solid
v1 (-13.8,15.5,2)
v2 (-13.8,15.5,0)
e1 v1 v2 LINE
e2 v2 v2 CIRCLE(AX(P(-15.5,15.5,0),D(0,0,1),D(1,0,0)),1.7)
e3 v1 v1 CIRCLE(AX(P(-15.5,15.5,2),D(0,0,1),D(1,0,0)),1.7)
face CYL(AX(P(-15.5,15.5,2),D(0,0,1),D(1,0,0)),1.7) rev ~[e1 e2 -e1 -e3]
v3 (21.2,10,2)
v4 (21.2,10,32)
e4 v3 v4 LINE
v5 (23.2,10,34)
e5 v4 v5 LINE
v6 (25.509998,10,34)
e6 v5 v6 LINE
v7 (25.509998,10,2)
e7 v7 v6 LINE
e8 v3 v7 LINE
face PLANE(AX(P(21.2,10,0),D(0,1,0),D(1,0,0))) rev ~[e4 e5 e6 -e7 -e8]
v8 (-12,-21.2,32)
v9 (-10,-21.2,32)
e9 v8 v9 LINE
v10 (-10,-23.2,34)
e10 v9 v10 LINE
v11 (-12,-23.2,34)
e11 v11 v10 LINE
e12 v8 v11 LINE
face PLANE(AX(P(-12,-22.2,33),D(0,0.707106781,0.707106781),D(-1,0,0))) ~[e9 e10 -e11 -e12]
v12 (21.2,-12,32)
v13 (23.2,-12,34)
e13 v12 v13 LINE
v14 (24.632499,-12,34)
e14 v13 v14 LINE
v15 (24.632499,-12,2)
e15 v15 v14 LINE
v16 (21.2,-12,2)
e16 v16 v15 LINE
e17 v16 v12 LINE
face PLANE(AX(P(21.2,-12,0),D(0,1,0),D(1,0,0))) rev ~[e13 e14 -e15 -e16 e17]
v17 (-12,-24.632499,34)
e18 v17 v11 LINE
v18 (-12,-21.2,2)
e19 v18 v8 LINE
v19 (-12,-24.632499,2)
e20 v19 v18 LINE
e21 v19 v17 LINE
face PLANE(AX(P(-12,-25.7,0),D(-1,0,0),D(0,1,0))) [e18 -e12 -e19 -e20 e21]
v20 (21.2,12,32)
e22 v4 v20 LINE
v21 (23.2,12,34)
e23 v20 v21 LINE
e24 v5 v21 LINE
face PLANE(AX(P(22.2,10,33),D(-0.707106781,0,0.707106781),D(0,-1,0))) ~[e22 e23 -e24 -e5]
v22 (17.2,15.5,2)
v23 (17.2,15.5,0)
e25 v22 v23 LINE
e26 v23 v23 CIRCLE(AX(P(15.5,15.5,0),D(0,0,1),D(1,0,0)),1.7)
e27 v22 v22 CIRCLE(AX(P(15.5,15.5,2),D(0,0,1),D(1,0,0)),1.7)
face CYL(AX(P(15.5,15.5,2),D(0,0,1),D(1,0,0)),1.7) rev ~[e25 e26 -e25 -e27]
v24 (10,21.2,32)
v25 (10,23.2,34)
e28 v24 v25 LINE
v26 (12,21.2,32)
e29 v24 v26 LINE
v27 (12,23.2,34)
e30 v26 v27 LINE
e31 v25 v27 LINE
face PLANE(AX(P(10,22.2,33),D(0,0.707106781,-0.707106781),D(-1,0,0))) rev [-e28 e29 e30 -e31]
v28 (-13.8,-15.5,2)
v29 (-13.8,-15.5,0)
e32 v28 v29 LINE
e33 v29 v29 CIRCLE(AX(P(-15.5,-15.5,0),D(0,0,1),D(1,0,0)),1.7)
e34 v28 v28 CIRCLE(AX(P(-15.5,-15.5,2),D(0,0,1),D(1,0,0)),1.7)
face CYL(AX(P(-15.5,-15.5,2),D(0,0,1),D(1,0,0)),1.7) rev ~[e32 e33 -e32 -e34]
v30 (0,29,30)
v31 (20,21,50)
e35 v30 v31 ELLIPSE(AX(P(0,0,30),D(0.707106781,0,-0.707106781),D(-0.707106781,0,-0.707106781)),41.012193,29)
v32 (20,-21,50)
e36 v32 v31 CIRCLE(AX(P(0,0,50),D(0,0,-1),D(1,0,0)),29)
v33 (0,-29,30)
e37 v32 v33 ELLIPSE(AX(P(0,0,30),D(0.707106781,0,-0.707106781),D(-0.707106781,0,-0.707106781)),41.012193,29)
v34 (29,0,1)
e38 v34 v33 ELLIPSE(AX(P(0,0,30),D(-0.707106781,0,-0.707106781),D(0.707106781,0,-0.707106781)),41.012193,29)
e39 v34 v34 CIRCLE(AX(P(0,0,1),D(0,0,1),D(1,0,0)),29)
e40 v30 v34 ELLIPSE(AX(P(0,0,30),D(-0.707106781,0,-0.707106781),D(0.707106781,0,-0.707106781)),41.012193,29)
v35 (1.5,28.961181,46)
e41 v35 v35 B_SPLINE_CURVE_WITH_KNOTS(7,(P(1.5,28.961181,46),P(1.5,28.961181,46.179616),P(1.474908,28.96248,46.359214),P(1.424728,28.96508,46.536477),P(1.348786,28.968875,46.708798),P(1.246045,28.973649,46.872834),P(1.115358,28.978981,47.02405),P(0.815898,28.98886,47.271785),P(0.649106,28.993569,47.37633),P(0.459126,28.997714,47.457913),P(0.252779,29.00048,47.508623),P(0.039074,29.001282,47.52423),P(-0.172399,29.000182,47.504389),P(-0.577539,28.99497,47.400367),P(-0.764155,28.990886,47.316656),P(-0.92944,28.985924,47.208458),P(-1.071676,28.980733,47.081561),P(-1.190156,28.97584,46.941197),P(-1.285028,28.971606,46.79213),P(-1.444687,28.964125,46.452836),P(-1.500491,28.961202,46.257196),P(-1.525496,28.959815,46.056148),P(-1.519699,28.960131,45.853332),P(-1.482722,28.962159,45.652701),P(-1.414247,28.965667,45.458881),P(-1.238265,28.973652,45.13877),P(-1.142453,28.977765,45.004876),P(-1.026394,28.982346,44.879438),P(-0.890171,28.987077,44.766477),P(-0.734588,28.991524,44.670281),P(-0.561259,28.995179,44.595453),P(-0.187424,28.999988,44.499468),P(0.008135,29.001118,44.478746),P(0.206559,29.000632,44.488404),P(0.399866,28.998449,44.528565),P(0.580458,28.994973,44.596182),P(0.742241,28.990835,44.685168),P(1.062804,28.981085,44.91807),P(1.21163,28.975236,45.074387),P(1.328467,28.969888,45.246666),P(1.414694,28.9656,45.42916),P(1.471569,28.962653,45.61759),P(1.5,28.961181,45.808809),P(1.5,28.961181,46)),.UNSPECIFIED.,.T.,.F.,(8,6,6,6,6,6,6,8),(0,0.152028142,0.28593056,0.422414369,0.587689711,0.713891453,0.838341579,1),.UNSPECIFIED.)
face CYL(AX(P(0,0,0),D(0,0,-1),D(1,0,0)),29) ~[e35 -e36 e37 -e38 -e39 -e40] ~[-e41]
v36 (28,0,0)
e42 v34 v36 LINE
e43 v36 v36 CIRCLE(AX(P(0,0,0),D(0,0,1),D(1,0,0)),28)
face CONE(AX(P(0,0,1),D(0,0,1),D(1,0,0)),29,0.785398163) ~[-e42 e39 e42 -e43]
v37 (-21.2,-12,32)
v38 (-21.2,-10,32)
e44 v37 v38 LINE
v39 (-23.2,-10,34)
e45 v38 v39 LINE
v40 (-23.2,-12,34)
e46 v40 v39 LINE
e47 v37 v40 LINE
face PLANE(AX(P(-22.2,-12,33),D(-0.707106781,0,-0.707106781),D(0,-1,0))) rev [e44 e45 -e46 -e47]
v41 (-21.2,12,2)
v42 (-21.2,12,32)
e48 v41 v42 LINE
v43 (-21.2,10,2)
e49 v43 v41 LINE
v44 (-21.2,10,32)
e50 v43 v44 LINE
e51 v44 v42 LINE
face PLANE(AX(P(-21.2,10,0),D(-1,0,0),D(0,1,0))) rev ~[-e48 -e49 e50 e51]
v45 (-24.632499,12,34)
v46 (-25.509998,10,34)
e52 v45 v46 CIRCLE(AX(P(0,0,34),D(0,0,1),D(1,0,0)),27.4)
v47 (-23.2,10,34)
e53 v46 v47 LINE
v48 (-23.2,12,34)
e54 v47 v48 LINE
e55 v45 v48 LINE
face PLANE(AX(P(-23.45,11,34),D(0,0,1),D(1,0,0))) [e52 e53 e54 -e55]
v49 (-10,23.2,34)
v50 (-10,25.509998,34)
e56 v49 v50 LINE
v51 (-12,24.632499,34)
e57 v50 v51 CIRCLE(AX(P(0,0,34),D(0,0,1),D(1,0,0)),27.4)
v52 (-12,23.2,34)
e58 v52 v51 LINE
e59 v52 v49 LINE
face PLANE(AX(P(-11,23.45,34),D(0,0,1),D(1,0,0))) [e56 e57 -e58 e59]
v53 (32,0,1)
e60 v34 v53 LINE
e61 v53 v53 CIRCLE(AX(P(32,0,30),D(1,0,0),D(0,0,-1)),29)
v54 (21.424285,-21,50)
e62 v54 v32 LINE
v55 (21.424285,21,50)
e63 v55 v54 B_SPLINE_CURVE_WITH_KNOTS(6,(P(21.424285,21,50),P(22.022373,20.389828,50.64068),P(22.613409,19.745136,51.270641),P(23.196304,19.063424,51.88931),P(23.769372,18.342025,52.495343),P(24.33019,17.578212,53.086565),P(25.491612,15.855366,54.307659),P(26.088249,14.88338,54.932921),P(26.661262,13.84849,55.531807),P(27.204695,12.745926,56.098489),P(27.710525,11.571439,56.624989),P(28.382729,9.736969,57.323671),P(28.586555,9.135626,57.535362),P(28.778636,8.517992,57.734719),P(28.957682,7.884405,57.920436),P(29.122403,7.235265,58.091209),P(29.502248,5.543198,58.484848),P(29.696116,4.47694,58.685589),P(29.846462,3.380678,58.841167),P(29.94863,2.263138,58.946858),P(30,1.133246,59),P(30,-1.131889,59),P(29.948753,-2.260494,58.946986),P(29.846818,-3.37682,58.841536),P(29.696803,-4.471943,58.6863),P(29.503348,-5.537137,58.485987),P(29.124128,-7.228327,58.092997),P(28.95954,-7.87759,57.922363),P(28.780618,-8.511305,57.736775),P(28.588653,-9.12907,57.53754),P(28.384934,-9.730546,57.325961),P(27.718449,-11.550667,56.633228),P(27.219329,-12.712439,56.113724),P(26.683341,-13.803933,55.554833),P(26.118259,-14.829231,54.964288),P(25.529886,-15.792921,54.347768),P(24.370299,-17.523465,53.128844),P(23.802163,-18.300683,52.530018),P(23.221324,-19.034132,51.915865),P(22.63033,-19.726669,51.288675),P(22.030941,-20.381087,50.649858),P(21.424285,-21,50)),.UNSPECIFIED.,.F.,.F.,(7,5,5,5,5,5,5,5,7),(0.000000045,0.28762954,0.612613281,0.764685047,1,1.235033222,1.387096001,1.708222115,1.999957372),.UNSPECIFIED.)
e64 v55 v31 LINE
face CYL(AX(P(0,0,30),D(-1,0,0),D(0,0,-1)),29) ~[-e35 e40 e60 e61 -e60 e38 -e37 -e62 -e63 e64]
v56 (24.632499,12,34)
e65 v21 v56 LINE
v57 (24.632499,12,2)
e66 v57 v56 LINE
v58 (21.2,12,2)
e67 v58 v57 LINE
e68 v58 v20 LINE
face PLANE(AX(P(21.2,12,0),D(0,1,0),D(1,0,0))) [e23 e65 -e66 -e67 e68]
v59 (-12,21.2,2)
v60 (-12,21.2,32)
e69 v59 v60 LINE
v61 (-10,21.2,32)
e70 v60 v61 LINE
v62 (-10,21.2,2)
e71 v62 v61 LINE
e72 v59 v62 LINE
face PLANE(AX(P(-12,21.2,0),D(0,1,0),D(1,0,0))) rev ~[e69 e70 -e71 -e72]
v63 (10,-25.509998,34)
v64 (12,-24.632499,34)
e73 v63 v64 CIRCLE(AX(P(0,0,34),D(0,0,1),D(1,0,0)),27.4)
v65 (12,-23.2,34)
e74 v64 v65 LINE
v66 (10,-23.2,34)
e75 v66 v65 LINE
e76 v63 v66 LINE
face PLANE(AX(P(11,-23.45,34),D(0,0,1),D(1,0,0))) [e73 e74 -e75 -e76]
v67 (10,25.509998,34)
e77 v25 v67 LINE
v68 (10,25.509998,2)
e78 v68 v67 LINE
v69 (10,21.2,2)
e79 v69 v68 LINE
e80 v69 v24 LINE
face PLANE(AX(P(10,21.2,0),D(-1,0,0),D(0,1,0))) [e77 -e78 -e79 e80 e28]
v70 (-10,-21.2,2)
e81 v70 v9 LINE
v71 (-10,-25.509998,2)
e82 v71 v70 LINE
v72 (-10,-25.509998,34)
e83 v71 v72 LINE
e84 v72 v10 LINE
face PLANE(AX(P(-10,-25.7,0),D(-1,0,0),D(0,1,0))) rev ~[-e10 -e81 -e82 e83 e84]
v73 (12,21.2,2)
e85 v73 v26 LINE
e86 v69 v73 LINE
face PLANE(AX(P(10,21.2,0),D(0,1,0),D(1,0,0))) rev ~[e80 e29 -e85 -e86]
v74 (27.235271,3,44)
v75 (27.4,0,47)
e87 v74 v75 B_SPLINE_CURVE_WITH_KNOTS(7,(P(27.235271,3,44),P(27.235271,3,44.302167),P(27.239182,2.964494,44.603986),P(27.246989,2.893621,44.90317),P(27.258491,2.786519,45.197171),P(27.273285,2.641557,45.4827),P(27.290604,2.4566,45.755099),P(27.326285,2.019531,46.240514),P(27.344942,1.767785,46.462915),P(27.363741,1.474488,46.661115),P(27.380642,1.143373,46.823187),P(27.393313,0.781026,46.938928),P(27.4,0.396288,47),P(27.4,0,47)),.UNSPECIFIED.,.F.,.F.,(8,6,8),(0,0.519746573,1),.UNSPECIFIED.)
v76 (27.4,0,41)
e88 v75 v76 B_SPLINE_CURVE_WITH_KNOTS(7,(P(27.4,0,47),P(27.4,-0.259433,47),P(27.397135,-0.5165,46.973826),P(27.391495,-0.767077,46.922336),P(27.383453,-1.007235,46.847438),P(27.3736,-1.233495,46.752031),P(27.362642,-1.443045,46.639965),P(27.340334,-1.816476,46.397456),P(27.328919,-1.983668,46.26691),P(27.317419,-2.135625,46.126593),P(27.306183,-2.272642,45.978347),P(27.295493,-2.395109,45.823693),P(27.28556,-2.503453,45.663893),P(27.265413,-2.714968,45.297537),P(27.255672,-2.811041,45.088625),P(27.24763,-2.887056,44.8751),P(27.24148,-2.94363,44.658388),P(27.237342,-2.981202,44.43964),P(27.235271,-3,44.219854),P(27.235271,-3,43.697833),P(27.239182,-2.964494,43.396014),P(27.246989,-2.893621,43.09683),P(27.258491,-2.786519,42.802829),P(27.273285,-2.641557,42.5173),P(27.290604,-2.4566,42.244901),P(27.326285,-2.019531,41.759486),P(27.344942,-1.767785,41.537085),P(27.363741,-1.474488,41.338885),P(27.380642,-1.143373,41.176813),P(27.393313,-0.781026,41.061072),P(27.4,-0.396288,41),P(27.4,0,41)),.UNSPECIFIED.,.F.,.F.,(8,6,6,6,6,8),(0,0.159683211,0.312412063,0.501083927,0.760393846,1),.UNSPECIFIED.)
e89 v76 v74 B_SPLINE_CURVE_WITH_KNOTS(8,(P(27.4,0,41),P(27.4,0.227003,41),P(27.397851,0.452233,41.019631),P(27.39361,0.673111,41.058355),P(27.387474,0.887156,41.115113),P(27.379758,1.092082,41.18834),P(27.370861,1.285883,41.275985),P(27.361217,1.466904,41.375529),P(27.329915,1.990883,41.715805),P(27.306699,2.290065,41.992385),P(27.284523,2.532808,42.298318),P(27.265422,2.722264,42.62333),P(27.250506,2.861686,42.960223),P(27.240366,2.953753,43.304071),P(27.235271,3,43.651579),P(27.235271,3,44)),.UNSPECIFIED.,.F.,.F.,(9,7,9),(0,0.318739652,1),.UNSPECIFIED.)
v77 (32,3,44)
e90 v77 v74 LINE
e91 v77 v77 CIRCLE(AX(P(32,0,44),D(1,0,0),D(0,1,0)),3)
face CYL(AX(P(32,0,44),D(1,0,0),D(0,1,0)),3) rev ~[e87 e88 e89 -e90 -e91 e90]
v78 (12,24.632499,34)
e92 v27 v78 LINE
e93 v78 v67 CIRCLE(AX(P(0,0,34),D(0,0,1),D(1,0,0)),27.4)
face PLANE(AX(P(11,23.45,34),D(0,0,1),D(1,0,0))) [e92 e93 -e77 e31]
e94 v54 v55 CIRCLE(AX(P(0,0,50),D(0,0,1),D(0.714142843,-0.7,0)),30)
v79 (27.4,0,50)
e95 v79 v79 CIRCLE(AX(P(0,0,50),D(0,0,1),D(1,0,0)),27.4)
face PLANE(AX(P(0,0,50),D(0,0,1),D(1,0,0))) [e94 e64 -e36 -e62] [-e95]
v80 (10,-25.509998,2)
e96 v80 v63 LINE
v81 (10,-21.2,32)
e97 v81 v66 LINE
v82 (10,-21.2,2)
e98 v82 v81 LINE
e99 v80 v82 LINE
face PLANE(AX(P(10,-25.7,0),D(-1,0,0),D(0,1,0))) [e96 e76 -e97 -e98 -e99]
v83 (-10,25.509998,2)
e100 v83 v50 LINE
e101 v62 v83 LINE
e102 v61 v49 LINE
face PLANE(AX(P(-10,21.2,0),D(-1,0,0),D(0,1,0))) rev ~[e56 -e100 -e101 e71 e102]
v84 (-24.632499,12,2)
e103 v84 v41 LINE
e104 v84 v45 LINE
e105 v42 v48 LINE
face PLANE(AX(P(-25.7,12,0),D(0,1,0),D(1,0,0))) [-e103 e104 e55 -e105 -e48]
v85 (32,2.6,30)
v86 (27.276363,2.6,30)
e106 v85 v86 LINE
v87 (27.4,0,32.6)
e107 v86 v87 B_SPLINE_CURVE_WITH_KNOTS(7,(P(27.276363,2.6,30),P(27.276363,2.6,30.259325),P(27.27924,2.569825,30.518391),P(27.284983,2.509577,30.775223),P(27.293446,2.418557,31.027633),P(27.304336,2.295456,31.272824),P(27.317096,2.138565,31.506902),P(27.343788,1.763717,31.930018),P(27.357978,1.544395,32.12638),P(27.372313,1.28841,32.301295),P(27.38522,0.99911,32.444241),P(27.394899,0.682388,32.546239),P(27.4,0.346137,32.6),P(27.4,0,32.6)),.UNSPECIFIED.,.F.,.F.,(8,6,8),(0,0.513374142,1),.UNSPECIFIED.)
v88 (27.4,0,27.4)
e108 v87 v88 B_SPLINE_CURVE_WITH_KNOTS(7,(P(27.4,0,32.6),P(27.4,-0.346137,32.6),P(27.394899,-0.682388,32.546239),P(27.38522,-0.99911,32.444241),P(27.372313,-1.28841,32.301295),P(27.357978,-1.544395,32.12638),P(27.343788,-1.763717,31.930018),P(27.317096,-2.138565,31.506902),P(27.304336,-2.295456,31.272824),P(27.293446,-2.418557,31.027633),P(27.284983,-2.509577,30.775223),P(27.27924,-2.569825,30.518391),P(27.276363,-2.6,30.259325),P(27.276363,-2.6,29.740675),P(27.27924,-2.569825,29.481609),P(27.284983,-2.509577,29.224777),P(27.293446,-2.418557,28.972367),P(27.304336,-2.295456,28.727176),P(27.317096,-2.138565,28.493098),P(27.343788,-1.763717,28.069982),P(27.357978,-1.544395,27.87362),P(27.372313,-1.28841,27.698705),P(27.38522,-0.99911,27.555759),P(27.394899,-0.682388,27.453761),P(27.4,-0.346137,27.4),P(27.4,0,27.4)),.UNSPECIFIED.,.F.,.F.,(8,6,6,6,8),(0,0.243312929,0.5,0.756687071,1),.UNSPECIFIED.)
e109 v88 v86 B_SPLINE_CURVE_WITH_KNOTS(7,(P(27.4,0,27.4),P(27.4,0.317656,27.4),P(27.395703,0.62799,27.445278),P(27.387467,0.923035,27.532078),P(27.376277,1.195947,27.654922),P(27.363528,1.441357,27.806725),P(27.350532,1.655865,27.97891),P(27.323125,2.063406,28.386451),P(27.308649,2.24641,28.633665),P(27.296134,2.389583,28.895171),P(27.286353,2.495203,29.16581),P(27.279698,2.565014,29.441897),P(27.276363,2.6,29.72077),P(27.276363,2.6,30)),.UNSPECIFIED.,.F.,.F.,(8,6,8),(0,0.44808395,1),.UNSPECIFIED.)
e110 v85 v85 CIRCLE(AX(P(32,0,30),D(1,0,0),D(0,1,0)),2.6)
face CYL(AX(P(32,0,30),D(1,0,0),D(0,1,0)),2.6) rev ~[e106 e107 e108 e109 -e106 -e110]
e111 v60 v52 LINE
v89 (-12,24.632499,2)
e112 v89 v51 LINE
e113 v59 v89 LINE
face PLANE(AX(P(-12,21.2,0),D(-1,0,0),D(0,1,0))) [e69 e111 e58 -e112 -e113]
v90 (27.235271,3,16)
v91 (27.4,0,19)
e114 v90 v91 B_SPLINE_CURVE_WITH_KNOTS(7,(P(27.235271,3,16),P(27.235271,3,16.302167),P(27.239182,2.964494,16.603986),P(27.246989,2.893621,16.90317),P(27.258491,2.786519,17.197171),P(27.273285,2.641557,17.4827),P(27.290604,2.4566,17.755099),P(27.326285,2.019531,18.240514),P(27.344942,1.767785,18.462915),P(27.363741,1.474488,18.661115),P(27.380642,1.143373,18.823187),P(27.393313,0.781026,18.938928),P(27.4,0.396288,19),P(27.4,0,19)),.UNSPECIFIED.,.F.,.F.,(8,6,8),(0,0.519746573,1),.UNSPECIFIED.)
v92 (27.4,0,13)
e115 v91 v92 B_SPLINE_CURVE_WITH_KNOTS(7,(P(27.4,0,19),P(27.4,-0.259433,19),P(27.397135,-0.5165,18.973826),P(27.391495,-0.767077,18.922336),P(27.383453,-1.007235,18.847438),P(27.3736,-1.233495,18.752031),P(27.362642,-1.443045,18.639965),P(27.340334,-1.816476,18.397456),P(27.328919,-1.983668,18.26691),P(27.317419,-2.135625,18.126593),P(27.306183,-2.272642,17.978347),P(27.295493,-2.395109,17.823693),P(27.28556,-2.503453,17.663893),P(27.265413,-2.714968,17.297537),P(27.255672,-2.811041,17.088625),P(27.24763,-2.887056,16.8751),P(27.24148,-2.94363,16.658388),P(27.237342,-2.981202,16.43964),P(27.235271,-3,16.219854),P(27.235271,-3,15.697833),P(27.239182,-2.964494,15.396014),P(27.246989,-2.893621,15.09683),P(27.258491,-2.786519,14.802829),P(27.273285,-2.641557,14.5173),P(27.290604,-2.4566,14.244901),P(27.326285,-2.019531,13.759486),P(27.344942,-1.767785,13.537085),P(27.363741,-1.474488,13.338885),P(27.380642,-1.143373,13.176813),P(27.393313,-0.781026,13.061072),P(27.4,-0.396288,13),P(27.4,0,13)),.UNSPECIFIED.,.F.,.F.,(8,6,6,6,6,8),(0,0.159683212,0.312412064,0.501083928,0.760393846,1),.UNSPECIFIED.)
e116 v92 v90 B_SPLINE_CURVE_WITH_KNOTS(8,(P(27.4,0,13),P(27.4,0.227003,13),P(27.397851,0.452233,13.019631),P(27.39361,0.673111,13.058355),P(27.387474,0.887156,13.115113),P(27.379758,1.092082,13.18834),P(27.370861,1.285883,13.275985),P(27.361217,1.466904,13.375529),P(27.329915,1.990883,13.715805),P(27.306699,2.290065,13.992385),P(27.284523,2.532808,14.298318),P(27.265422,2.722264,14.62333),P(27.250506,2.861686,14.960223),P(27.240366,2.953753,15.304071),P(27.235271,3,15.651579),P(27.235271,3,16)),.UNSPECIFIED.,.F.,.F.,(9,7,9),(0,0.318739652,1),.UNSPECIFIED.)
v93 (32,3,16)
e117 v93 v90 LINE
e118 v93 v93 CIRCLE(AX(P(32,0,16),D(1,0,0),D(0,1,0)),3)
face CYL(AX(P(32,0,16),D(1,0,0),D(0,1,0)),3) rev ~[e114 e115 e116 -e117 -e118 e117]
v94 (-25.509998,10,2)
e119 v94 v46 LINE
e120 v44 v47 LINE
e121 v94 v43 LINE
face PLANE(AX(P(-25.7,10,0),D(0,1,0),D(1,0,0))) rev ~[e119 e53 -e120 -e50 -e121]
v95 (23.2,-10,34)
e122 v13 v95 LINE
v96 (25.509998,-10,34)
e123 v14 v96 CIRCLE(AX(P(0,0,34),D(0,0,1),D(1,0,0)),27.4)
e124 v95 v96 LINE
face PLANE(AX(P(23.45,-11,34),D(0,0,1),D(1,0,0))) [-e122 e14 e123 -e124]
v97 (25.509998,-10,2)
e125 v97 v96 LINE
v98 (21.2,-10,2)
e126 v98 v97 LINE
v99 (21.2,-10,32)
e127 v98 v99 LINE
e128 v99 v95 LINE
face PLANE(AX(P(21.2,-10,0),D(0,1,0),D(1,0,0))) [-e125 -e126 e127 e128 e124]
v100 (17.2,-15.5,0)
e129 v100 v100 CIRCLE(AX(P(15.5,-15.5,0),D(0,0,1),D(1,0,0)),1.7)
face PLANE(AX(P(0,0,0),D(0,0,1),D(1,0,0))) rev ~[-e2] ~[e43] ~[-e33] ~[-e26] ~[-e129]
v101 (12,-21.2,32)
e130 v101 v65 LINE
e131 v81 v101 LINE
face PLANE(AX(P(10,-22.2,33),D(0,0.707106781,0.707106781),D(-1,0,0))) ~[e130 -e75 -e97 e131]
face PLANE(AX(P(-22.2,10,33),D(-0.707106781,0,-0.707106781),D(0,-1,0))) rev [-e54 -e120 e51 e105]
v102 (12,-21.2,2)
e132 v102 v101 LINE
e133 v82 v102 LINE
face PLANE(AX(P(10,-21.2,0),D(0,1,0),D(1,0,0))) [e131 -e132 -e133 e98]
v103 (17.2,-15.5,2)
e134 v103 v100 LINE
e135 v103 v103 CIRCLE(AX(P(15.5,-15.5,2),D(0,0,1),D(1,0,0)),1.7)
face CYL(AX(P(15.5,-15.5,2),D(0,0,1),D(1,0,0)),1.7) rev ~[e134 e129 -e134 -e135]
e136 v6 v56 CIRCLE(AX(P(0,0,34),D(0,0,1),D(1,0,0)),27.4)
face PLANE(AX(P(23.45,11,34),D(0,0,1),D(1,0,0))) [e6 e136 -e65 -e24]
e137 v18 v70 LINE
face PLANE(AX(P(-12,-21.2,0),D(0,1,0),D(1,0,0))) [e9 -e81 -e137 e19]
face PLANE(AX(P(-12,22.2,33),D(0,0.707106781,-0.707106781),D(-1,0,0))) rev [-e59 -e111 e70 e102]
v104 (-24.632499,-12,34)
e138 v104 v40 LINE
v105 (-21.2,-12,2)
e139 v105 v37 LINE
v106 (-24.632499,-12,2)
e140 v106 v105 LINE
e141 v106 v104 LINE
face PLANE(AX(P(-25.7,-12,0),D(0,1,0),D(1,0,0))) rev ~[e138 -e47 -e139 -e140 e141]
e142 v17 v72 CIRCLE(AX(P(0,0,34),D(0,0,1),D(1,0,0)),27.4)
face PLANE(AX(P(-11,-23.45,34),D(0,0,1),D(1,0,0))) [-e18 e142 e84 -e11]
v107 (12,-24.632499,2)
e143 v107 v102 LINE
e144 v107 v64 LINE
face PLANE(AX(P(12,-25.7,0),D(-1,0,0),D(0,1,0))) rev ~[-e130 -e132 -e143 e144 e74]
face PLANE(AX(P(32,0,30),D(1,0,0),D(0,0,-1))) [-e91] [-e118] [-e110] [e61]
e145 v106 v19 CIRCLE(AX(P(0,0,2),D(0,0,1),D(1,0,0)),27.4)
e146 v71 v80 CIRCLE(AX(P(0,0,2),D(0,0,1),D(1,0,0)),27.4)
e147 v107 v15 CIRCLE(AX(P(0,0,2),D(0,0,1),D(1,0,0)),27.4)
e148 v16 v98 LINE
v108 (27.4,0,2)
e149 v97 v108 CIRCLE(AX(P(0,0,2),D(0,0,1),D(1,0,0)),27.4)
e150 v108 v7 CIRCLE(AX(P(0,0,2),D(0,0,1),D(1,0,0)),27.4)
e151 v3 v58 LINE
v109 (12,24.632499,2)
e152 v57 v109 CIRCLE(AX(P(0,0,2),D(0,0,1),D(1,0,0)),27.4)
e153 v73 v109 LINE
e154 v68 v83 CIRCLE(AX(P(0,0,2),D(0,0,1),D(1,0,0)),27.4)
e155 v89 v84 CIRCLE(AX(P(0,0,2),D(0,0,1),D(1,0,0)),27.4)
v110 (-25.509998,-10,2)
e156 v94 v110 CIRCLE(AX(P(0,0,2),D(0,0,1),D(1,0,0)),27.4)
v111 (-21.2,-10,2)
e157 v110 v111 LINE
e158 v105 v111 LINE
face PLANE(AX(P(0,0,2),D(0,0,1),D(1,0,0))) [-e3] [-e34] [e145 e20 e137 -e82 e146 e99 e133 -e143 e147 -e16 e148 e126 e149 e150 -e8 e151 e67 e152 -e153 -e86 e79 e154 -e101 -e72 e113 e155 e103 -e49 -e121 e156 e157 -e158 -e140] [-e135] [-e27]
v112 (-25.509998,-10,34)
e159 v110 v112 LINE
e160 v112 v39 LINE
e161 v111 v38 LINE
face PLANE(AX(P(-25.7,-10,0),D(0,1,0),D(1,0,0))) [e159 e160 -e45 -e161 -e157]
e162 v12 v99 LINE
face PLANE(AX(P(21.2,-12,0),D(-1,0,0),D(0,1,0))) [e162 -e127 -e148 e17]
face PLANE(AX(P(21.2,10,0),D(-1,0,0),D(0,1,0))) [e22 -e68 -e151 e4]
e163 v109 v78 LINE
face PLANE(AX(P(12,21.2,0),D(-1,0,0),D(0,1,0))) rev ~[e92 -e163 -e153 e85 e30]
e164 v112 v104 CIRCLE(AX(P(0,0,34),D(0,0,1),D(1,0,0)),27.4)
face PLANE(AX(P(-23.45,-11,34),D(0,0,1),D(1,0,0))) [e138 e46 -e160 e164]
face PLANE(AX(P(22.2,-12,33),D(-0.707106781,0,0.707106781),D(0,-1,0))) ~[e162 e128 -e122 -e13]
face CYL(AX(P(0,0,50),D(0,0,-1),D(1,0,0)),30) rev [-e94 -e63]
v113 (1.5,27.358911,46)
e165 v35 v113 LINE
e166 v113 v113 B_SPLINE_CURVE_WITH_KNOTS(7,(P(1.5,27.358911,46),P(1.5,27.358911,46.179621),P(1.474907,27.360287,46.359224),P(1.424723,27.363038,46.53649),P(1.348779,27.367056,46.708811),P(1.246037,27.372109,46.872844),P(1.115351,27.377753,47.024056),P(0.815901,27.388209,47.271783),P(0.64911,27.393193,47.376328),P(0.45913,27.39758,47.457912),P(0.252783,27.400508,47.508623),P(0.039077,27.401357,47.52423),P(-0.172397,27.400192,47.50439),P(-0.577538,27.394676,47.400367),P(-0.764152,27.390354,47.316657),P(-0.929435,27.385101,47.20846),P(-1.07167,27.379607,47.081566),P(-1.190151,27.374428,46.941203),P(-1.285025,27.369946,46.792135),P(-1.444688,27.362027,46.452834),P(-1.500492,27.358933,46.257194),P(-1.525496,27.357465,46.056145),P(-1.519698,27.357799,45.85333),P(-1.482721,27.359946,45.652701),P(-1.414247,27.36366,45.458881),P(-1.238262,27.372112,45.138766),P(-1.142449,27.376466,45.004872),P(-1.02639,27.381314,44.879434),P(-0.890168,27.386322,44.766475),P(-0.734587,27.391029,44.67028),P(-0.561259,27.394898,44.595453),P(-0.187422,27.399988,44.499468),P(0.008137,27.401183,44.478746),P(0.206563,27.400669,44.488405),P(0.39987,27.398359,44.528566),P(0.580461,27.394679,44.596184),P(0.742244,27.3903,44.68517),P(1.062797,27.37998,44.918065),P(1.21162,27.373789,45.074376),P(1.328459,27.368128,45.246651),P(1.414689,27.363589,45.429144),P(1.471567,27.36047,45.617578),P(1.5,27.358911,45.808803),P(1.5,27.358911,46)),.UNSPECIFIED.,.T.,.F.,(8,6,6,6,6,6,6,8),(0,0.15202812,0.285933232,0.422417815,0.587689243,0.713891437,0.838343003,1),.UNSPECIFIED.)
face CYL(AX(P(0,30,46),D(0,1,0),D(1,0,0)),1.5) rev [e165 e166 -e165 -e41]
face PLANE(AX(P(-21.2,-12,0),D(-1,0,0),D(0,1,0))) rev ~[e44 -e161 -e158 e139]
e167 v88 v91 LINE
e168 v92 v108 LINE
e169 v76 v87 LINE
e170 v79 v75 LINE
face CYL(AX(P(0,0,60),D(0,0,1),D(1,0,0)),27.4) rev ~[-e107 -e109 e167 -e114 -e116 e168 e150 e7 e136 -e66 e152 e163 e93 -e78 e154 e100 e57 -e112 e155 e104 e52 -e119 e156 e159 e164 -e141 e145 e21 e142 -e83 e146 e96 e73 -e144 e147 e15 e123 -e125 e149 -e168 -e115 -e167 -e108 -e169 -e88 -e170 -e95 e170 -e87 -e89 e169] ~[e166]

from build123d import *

# Parameters (mm, degrees)
CYLINDER003_R           = 1.5
CYLINDER003_DEPTH       = 6
CYLINDER003_ROLL_ANGLE  = 90
CYLINDER002_R           = 30
CYLINDER002_DEPTH       = 20
CYLINDER001_R           = 29
CYLINDER001_DEPTH       = 32
CYLINDER001_PITCH_ANGLE = 90
CYLINDER_R              = 29
CYLINDER_DEPTH          = 60
SKETCH_R                = 27.4
POCKET_DEPTH            = 58
SKETCH002_R             = 2.6
SKETCH002_R_2           = 3
POCKET002_DEPTH         = 6
SKETCH001_R             = 1.7
POCKET003_DEPTH         = 5
SKETCH003_W             = 2
SKETCH003_H             = 4.5
SKETCH003_W_2           = 4.5
SKETCH003_H_2           = 2
PAD_DEPTH               = 34
CHAMFER_SIZE            = 2
CHAMFER001_SIZE         = 1


with BuildPart() as cylinder003:
    # Cylinder003 → Cylinder003 (new body)
    with BuildSketch(Plane.XY):
        Circle(CYLINDER003_R)
    extrude(amount=CYLINDER003_DEPTH)


with BuildPart() as cylinder003_1:
    # Cylinder003 roll: moved
    add(cylinder003.part.rotate(Axis((0, 0, 0), (1, 0, 0)), CYLINDER003_ROLL_ANGLE))


with BuildPart() as cylinder003_2:
    # Cylinder003 placement: moved
    add(cylinder003_1.part.moved(Location((0, 30, 46))))


with BuildPart() as cylinder002:
    # Cylinder002 → Cylinder002 (new body)
    with BuildSketch(Plane.XY.offset(50)):
        Circle(CYLINDER002_R)
    extrude(amount=CYLINDER002_DEPTH)


with BuildPart() as cylinder001:
    # Cylinder001 → Cylinder001 (new body)
    with BuildSketch(Plane.XY):
        Circle(CYLINDER001_R)
    extrude(amount=CYLINDER001_DEPTH)


with BuildPart() as cylinder001_1:
    # Cylinder001 pitch: moved
    add(cylinder001.part.rotate(Axis((0, 0, 0), (0, 1, 0)), CYLINDER001_PITCH_ANGLE))


with BuildPart() as cylinder001_2:
    # Cylinder001 placement: moved
    add(cylinder001_1.part.moved(Location((0, 0, 30))))


with BuildPart() as cut:
    # Cylinder → Cylinder (new body)
    with BuildSketch(Plane.XY):
        Circle(CYLINDER_R)
    extrude(amount=CYLINDER_DEPTH)

    # Fusion: union Cylinder001
    add(cylinder001_2.part)

    # Sketch → Pocket (cut)
    with BuildSketch(Plane.XY.offset(60)):
        Circle(SKETCH_R)
    extrude(amount=-POCKET_DEPTH, mode=Mode.SUBTRACT)

    # Sketch002 → Pocket002 (cut)
    with BuildSketch(Plane.YZ.offset(32)):
        with Locations((0, 30)):
            Circle(SKETCH002_R)
        with Locations((0, 44)):
            Circle(SKETCH002_R_2)
        with Locations((0, 16)):
            Circle(SKETCH002_R_2)
    extrude(amount=-POCKET002_DEPTH, mode=Mode.SUBTRACT)

    # Sketch001 → Pocket003 (cut)
    with BuildSketch(Plane.XY.offset(2)):
        with Locations((-15.5, 15.5)):
            Circle(SKETCH001_R)
        with Locations((15.5, 15.5)):
            Circle(SKETCH001_R)
        with Locations((-15.5, -15.5)):
            Circle(SKETCH001_R)
        with Locations((15.5, -15.5)):
            Circle(SKETCH001_R)
    extrude(amount=-POCKET003_DEPTH, mode=Mode.SUBTRACT)

    # Cut: cut Cylinder002
    add(cylinder002.part, mode=Mode.SUBTRACT)


with BuildPart() as cut001:
    # Sketch003 → Pad (new body)
    with BuildSketch(Plane.XY):
        with Locations((-11, 23.45)):
            Rectangle(SKETCH003_W, SKETCH003_H)
        with Locations((11, 23.45)):
            Rectangle(SKETCH003_W, SKETCH003_H)
        with Locations((-11, -23.45)):
            Rectangle(SKETCH003_W, SKETCH003_H)
        with Locations((11, -23.45)):
            Rectangle(SKETCH003_W, SKETCH003_H)
        with Locations((-23.45, 11)):
            Rectangle(SKETCH003_W_2, SKETCH003_H_2)
        with Locations((-23.45, -11)):
            Rectangle(SKETCH003_W_2, SKETCH003_H_2)
        with Locations((23.45, 11)):
            Rectangle(SKETCH003_W_2, SKETCH003_H_2)
        with Locations((23.45, -11)):
            Rectangle(SKETCH003_W_2, SKETCH003_H_2)
    extrude(amount=PAD_DEPTH)

    # Chamfer
    chamfer_edges = [cut001.edges().sort_by_distance(p)[0] for p in [
        (-21.2, -11, 34),
        (-11, -21.2, 34),
        (-21.2, 11, 34),
        (-11, 21.2, 34),
        (11, -21.2, 34),
        (21.2, -11, 34),
        (21.2, 11, 34),
        (11, 21.2, 34),
    ]]
    chamfer(chamfer_edges, length=CHAMFER_SIZE)

    # Fusion001: union Cut
    add(cut.part)

    # Chamfer001
    chamfer001_edges = [cut001.edges().sort_by_distance(p)[0] for p in [
        (-29, 0, 0),
    ]]
    chamfer(chamfer001_edges, length=CHAMFER001_SIZE)

    # Cut001: cut Cylinder003
    add(cylinder003_2.part, mode=Mode.SUBTRACT)


solid = cut001.part
